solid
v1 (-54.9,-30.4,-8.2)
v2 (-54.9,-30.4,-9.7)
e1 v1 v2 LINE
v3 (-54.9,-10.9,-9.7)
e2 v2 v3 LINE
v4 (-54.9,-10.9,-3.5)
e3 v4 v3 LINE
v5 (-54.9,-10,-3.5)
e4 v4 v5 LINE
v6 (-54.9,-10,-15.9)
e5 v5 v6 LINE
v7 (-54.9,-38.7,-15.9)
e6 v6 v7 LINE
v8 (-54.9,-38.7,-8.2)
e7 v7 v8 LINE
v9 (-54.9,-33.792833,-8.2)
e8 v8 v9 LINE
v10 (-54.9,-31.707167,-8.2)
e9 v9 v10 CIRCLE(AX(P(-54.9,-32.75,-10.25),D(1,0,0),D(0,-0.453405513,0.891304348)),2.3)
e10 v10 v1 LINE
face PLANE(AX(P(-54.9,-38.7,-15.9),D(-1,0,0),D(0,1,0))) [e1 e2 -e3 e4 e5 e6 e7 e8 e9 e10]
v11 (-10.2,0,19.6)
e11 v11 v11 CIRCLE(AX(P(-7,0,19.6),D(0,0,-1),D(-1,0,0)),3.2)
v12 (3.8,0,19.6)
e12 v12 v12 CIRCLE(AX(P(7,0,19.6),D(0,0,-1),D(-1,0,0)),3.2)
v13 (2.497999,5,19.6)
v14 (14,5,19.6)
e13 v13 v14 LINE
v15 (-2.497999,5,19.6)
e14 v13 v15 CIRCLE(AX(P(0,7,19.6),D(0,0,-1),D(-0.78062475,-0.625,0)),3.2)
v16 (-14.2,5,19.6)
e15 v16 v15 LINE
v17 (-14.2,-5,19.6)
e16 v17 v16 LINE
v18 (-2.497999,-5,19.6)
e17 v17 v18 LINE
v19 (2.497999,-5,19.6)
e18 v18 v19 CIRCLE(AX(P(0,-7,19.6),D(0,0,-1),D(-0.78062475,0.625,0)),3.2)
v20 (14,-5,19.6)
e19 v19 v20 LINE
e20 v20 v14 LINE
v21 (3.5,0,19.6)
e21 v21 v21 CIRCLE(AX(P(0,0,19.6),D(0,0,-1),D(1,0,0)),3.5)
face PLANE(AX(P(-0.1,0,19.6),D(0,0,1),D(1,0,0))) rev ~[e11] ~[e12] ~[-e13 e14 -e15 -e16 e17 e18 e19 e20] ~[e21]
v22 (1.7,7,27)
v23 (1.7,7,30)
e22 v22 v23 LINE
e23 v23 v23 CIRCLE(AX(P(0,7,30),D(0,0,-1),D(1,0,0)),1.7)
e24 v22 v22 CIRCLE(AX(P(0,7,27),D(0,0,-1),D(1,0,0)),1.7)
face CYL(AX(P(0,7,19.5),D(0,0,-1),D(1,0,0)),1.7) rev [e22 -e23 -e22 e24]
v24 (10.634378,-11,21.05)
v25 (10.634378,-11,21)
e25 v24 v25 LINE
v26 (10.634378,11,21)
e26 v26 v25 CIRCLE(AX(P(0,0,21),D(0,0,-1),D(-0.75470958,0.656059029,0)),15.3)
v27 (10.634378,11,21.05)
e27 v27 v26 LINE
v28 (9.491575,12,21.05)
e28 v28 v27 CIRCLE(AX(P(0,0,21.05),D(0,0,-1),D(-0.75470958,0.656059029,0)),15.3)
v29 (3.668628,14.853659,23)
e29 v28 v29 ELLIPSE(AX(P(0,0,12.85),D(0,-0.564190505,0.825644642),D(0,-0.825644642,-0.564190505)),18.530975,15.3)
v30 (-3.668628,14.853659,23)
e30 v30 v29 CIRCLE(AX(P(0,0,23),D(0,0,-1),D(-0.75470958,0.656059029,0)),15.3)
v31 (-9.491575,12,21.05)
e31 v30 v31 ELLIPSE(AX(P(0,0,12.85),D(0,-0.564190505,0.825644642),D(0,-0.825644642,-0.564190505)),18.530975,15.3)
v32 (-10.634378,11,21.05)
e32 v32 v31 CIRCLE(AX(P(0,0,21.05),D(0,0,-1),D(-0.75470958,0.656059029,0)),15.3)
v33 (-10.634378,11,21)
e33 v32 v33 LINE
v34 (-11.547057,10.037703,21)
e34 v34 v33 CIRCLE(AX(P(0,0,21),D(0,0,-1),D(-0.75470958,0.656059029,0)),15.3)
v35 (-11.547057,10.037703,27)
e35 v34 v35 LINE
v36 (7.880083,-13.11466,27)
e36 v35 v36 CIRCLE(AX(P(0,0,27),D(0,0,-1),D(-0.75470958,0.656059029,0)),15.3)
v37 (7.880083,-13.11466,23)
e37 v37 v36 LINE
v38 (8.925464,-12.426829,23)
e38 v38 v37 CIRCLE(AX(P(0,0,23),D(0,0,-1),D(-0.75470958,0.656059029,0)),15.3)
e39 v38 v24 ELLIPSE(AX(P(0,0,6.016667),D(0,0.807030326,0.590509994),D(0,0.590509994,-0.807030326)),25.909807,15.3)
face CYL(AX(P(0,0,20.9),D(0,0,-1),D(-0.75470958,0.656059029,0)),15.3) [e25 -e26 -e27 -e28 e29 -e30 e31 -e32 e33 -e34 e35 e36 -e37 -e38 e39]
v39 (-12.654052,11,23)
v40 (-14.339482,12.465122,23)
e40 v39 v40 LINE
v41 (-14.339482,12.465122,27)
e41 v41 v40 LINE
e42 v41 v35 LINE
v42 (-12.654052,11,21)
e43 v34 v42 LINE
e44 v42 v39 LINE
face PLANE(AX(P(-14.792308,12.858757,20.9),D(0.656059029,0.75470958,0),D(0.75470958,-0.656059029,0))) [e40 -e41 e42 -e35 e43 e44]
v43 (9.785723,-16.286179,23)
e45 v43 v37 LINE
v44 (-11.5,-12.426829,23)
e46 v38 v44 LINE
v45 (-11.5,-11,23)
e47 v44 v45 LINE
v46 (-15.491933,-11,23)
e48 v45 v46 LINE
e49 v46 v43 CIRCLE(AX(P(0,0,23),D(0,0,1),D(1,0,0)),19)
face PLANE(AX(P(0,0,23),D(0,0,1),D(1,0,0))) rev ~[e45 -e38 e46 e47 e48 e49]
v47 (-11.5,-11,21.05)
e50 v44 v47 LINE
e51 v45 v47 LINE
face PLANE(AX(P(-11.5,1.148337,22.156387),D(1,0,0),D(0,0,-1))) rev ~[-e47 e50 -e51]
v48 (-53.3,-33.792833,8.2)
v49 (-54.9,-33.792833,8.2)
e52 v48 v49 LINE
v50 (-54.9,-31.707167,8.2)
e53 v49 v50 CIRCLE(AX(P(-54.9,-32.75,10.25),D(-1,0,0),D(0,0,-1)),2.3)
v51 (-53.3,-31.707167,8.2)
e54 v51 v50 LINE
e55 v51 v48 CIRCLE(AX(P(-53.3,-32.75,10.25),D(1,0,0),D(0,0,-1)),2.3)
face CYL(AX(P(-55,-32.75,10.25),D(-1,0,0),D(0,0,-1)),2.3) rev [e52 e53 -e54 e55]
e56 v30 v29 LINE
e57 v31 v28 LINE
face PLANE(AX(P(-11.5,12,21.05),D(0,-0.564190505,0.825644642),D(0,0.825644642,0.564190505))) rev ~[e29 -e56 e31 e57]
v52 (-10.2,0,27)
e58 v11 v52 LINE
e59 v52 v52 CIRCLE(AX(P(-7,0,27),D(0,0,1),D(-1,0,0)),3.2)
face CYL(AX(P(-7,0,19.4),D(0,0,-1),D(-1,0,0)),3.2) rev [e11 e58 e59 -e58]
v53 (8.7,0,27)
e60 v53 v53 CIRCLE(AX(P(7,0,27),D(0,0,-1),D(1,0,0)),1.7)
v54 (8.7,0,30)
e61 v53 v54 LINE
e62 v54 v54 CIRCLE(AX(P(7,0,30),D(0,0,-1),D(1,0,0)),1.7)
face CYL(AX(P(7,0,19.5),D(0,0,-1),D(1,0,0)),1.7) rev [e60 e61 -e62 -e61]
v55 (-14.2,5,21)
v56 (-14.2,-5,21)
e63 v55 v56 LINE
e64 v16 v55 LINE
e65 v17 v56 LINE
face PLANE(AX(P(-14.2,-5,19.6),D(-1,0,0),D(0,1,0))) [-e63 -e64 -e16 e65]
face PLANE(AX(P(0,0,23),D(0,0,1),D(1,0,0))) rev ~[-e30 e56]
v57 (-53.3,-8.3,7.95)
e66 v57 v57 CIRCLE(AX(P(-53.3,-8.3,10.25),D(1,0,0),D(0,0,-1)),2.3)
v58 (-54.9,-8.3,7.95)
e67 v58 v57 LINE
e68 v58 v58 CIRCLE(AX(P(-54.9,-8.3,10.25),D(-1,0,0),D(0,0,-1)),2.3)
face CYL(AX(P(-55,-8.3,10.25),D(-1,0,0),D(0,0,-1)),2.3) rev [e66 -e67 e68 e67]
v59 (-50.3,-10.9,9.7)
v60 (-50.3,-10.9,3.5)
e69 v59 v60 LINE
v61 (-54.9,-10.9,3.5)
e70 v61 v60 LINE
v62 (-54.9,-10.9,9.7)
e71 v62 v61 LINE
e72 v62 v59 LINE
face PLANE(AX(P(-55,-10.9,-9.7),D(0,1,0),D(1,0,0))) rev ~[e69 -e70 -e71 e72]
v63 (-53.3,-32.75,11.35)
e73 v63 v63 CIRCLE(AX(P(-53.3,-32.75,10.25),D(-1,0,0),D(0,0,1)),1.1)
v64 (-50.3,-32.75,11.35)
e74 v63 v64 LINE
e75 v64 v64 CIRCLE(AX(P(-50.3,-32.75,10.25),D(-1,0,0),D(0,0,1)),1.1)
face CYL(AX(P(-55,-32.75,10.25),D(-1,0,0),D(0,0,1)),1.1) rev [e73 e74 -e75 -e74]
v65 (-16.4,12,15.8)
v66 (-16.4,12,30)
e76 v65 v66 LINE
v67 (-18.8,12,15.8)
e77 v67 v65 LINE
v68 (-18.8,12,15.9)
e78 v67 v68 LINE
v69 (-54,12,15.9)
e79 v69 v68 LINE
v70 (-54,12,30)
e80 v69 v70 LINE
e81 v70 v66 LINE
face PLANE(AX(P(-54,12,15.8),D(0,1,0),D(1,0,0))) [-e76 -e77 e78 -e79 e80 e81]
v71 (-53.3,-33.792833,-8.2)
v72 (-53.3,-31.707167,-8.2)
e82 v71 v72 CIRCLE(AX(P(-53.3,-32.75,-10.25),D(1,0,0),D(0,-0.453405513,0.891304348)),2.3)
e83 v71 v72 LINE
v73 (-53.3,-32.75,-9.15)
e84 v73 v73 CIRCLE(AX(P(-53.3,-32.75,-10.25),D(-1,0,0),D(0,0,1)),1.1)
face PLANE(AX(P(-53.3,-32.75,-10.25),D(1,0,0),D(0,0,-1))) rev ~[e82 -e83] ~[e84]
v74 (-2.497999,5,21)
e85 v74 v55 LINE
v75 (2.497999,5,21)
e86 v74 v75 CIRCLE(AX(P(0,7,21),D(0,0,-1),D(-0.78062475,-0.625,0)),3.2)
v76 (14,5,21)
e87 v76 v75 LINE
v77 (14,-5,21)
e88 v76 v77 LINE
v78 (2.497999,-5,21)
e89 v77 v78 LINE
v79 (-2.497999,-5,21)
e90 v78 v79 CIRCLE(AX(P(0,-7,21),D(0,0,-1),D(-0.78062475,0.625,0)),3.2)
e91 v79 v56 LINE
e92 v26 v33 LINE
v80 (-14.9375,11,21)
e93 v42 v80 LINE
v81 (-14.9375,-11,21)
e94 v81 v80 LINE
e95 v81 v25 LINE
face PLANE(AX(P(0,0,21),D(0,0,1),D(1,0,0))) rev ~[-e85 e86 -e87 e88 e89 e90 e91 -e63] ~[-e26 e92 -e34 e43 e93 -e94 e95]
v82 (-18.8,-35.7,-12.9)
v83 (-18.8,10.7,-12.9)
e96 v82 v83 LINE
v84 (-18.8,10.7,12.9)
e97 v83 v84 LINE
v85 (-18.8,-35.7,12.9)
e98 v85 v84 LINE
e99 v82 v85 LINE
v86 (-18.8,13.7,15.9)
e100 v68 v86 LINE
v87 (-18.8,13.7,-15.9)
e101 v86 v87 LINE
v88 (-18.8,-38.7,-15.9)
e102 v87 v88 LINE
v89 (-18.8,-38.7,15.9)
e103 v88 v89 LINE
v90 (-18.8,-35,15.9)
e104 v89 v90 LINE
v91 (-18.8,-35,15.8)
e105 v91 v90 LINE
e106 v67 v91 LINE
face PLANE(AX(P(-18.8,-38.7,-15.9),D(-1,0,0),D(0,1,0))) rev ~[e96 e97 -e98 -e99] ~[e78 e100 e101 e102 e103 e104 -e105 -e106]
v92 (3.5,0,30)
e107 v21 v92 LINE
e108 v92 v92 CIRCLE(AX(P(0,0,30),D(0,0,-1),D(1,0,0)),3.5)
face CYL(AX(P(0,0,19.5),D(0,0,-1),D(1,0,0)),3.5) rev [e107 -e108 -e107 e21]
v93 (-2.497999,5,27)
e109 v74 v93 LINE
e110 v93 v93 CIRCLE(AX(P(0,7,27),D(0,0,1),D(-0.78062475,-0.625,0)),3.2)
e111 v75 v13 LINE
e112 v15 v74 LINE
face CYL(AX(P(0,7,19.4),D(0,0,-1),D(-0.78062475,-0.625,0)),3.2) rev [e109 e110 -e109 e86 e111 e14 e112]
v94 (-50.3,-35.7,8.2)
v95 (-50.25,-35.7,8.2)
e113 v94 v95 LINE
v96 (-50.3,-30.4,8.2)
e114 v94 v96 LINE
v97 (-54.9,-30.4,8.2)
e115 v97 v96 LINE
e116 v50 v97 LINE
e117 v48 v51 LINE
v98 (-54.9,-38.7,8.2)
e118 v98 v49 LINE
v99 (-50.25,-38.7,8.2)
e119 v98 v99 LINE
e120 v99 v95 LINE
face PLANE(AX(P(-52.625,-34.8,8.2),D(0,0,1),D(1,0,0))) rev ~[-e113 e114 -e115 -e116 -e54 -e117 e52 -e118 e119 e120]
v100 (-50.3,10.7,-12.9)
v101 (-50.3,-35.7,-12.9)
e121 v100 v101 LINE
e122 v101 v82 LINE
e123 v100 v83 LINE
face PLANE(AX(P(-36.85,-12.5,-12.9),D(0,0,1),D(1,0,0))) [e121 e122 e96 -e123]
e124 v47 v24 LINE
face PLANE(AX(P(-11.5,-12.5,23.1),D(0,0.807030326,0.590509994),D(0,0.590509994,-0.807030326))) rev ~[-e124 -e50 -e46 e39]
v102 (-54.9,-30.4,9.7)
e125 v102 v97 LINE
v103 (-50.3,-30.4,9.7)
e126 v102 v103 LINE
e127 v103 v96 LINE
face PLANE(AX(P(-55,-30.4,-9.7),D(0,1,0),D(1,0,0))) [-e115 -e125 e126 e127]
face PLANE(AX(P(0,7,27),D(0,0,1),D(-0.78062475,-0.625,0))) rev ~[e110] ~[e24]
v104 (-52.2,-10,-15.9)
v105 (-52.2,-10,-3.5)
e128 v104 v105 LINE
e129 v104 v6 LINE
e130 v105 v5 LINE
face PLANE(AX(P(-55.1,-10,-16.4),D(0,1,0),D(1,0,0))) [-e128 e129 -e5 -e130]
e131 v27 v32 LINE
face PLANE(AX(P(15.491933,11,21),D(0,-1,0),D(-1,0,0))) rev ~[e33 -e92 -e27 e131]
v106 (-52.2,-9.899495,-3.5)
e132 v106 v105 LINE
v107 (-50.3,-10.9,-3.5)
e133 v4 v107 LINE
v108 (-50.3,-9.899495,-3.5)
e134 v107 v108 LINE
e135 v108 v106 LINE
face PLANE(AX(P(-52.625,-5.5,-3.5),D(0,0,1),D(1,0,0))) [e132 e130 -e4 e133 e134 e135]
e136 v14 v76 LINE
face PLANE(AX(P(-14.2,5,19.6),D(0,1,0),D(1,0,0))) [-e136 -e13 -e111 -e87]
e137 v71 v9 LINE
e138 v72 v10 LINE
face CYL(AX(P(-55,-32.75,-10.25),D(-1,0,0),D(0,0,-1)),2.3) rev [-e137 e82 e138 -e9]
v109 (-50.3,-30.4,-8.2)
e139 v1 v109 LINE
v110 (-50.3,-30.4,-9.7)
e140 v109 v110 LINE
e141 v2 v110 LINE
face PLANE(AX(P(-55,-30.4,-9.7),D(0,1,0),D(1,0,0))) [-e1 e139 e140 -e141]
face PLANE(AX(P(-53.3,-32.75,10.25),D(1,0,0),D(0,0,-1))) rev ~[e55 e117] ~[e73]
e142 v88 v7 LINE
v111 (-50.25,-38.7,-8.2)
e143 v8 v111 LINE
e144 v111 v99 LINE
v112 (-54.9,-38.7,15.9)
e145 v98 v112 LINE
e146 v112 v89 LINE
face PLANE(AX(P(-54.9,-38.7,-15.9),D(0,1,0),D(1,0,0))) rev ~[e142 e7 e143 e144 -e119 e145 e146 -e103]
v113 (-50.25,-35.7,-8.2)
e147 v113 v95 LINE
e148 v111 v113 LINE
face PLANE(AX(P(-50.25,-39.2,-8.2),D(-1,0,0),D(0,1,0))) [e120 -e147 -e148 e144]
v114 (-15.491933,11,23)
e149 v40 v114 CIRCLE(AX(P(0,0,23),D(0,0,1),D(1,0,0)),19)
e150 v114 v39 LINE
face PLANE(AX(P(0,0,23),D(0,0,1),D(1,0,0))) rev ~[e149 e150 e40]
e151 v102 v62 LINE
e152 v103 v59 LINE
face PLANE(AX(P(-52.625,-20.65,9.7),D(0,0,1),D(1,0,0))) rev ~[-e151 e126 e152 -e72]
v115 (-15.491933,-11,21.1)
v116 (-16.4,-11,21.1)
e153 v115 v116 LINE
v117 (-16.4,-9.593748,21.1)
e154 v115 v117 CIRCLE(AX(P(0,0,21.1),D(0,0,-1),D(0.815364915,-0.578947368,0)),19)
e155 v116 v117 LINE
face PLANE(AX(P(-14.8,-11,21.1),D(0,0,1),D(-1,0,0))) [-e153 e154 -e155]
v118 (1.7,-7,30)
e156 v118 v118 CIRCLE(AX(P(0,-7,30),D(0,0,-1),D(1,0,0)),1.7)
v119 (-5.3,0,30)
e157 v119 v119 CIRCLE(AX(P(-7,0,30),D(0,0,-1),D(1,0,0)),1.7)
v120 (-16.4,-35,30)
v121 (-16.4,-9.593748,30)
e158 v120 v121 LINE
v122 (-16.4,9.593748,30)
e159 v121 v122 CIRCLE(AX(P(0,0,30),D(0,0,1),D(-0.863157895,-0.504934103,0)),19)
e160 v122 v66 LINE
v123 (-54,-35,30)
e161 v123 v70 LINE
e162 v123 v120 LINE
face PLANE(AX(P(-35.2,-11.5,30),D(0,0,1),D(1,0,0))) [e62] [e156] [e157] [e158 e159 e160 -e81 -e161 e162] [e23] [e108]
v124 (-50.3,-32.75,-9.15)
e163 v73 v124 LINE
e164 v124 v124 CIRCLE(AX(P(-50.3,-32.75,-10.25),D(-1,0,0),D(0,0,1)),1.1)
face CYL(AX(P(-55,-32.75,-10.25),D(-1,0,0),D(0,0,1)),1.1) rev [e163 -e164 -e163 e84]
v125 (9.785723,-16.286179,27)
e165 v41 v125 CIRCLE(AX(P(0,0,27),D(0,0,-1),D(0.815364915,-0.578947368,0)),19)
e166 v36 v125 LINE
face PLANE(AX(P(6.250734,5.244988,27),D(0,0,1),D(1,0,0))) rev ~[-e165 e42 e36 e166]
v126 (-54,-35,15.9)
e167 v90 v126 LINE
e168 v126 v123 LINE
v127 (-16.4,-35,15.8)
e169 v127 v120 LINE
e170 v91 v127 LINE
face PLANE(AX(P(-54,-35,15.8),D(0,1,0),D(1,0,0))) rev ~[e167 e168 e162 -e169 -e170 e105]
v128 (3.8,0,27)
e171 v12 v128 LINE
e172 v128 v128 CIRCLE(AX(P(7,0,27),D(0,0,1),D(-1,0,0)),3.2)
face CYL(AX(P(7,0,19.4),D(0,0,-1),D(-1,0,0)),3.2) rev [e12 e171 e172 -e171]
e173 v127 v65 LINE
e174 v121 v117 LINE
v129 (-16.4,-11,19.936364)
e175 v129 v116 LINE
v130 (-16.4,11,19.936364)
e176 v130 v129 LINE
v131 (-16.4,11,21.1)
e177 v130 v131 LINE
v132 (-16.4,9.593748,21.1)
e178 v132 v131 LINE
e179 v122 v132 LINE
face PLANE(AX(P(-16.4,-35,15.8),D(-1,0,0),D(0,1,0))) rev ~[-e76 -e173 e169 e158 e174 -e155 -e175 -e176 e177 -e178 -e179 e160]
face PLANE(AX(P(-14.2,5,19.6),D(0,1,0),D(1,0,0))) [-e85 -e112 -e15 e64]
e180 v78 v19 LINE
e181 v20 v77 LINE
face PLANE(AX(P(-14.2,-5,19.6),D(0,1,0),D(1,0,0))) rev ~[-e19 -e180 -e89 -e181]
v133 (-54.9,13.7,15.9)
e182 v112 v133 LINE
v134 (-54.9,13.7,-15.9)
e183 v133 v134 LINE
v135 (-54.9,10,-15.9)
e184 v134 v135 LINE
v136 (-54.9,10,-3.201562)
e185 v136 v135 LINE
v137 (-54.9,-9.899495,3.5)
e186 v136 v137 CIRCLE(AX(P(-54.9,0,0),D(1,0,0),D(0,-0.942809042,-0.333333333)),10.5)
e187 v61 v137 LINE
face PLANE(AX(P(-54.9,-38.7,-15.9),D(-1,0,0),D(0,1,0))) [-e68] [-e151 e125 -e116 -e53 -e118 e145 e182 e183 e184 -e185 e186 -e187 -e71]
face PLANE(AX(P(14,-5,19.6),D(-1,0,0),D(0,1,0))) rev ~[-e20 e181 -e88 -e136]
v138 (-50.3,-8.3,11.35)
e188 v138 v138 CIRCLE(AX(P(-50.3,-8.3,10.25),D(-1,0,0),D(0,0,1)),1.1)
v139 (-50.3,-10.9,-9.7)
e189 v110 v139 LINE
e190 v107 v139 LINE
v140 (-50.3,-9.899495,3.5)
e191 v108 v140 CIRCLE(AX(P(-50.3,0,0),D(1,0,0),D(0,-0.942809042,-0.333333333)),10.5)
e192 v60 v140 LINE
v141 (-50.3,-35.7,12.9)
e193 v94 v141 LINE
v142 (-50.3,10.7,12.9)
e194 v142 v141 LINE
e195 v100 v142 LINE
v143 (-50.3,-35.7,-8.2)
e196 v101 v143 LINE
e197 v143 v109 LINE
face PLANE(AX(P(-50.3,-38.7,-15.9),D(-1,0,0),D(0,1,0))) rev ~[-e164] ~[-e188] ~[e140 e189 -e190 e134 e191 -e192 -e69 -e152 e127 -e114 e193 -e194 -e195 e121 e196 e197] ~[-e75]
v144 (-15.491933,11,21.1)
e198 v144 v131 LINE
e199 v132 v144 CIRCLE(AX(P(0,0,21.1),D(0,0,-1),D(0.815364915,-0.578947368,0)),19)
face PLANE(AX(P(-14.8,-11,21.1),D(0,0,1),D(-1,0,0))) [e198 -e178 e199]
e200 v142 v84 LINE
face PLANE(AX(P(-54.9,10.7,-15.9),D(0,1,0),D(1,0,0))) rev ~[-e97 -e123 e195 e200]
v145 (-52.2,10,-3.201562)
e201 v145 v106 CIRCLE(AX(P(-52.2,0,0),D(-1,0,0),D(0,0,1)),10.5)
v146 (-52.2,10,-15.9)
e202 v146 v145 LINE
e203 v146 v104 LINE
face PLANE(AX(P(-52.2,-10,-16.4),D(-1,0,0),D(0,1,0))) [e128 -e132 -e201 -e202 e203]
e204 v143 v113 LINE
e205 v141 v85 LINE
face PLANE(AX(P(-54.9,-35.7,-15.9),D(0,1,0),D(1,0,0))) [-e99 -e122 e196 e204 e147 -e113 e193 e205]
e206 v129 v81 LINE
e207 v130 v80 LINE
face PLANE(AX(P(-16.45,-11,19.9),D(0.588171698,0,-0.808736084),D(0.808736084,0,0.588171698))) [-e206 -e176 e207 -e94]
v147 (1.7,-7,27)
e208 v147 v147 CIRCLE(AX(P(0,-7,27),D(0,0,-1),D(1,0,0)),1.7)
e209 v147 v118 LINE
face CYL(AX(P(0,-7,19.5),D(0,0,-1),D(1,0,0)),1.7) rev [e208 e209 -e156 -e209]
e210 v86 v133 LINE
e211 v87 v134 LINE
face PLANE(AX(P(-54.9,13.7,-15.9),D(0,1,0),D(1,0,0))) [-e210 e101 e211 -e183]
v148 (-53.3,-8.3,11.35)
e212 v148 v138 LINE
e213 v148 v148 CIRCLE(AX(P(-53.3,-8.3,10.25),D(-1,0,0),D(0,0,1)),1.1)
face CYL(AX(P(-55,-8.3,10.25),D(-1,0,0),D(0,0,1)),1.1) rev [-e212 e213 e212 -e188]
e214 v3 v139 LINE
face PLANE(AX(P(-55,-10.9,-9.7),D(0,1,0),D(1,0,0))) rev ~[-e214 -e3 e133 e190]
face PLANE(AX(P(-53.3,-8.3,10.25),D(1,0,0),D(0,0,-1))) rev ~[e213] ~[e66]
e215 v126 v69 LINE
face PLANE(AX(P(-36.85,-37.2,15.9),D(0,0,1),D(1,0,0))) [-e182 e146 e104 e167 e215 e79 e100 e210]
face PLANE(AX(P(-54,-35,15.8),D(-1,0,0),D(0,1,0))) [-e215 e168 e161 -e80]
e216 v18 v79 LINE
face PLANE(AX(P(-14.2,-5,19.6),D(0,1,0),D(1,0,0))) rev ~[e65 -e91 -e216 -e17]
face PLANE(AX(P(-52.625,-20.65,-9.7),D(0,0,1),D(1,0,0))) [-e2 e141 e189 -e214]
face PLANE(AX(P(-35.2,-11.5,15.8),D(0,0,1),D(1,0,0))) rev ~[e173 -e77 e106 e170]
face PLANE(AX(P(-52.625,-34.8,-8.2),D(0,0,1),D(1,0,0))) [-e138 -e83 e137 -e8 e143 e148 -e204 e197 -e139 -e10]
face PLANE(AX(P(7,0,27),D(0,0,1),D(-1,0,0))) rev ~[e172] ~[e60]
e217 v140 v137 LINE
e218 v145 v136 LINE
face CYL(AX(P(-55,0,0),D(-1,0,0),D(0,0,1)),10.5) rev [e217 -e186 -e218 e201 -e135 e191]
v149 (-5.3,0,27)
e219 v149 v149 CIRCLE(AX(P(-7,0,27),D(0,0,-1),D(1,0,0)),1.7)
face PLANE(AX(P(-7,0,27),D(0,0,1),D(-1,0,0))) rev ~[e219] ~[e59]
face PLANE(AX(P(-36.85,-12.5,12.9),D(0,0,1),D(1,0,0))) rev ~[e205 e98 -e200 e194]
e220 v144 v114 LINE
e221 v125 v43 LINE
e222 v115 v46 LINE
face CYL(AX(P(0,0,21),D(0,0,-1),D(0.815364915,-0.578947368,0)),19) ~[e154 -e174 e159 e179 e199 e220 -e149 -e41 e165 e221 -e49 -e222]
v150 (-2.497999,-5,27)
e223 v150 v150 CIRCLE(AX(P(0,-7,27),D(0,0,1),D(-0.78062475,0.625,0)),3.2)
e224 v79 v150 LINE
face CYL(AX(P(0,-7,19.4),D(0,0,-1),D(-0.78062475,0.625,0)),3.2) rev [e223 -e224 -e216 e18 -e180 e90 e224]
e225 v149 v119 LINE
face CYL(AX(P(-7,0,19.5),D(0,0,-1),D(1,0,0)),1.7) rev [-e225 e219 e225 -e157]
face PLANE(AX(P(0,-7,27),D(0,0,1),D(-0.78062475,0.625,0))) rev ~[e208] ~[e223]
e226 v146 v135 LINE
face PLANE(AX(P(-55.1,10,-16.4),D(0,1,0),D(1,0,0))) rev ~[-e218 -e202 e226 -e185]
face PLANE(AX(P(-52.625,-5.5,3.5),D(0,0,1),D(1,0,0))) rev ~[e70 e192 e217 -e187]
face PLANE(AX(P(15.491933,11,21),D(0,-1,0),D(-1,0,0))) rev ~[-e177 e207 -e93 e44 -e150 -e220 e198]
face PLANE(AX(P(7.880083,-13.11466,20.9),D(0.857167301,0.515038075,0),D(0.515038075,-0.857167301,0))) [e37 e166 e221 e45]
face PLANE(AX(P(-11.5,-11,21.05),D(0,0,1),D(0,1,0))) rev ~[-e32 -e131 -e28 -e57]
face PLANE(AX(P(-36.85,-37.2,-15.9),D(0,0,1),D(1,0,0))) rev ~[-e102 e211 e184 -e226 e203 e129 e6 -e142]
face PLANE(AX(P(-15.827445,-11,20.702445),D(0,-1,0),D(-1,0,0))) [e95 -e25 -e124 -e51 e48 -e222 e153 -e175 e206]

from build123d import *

# Parameters (mm, degrees)
S_CYL1_R        = 19
BOSS_1_DEPTH    = 7
BOSS_2_DEPTH    = 2.1
S_BOX3_W        = 28.2
S_BOX3_H        = 10
BOSS_3_DEPTH    = 1.5
S_BOX4_W        = 37.6
S_BOX4_H        = 47
BOSS_4_DEPTH    = 14.2
BOSS_5_DEPTH    = 23
BOSS_6_DEPTH    = 22
S_BOX7_W        = 36.1
S_BOX7_H        = 3
BOSS_7_DEPTH    = 31.8
S_BOX8_W        = 36.1
S_BOX8_H        = 3
BOSS_8_DEPTH    = 31.8
S_BOX9_W        = 36.1
S_BOX9_H        = 52.4
BOSS_9_DEPTH    = 3
S_BOX10_W       = 36.1
S_BOX10_H       = 52.4
BOSS_10_DEPTH   = 3
S_BOX11_W       = 4.6
S_BOX11_H       = 52.4
BOSS_11_DEPTH   = 31.8
S_HOLE12_R      = 10.5
HOLE_12_DEPTH   = 4.8
S_CUT13_W       = 4.75
S_CUT13_H       = 19.5
POCKET_13_DEPTH = 19.4
S_CUT14_W       = 4.75
S_CUT14_H       = 8.8
POCKET_14_DEPTH = 16.4
S_CUT15_W       = 4.75
S_CUT15_H       = 11
POCKET_15_DEPTH = 7
S_CUT16_W       = 2.9
S_CUT16_H       = 20
POCKET_16_DEPTH = 16.4
S_HOLE17_R      = 1.1
HOLE_17_DEPTH   = 4.8
S_HOLE18_R      = 2.3
HOLE_18_DEPTH   = 1.7
S_HOLE19_R      = 1.1
HOLE_19_DEPTH   = 4.8
S_HOLE20_R      = 2.3
HOLE_20_DEPTH   = 1.7
S_HOLE21_R      = 1.1
HOLE_21_DEPTH   = 4.8
S_HOLE22_R      = 2.3
HOLE_22_DEPTH   = 1.7
CUT_23_DEPTH    = 6.1
S_HOLE24_R      = 3.5
HOLE_24_DEPTH   = 10.6
S_HOLE25_R      = 1.7
HOLE_25_DEPTH   = 10.6
S_HOLE26_R      = 1.7
HOLE_26_DEPTH   = 10.6
S_HOLE27_R      = 1.7
HOLE_27_DEPTH   = 10.6
S_HOLE28_R      = 1.7
HOLE_28_DEPTH   = 10.6
S_HOLE29_R      = 3.2
HOLE_29_DEPTH   = 7.6
S_HOLE30_R      = 3.2
HOLE_30_DEPTH   = 7.6
S_HOLE31_R      = 3.2
HOLE_31_DEPTH   = 7.6
S_HOLE32_R      = 3.2
HOLE_32_DEPTH   = 7.6


with BuildPart() as part:
    # S_cyl1 → Boss_1 (new body)
    with BuildSketch(Plane.XY.offset(23)):
        Circle(S_CYL1_R)
    extrude(amount=BOSS_1_DEPTH)

    # S_prism2 → Boss_2 (add)
    with BuildSketch(Plane.XY.offset(21)):
        with BuildLine():
            Line((-15.491933385, -11), (15.491933385, -11))
            ThreePointArc((15.491933385, -11), (19, 0), (15.491933385, 11))
            Line((15.491933385, 11), (-15.491933385, 11))
            ThreePointArc((-15.491933385, 11), (-19, 0), (-15.491933385, -11))
        make_face()
    extrude(amount=BOSS_2_DEPTH)

    # S_box3 → Boss_3 (add)
    with BuildSketch(Plane.XY.offset(19.6)):
        with Locations((-0.1, 0)):
            Rectangle(S_BOX3_W, S_BOX3_H)
    extrude(amount=BOSS_3_DEPTH)

    # S_box4 → Boss_4 (add)
    with BuildSketch(Plane.XY.offset(15.8)):
        with Locations((-35.2, -11.5)):
            Rectangle(S_BOX4_W, S_BOX4_H)
    extrude(amount=BOSS_4_DEPTH)

    # S_prism5 → Boss_5 (add)
    with BuildSketch(Plane(origin=(-11.5, 0, 0), x_dir=(0, 0, -1), z_dir=(1, 0, 0))):
        Polygon((-21.05, -11), (-21.05, 12), (-23.1, 15), (-23.1, -12.5), align=None)
    extrude(amount=BOSS_5_DEPTH)

    # S_prism6 → Boss_6 (add)
    with BuildSketch(Plane(origin=(0, -11, 0), x_dir=(1, 0, 0), z_dir=(0, 1, 0))):
        Polygon((-16.45, -21.1), (-16.45, -19.9), (-14.8, -21.1), align=None)
    extrude(amount=BOSS_6_DEPTH)

    # S_box8 → Boss_8 (add)
    with BuildSketch(Plane.XY.offset(-15.9)):
        with Locations((-36.85, 12.2)):
            Rectangle(S_BOX8_W, S_BOX8_H)
    extrude(amount=BOSS_8_DEPTH)



with BuildPart() as body_2:
    # S_box7 → Boss_7 (new body)
    with BuildSketch(Plane.XY.offset(-15.9)):
        with Locations((-36.85, -37.2)):
            Rectangle(S_BOX7_W, S_BOX7_H)
    extrude(amount=BOSS_7_DEPTH)


with BuildPart() as part_1:
    add(part.part)

    add(body_2.part)  # Boss_9 merges body 2
    # S_box9 → Boss_9 (add)
    with BuildSketch(Plane.XY.offset(-15.9)):
        with Locations((-36.85, -12.5)):
            Rectangle(S_BOX9_W, S_BOX9_H)
    extrude(amount=BOSS_9_DEPTH)

    # S_box10 → Boss_10 (add)
    with BuildSketch(Plane.XY.offset(12.9)):
        with Locations((-36.85, -12.5)):
            Rectangle(S_BOX10_W, S_BOX10_H)
    extrude(amount=BOSS_10_DEPTH)

    # S_box11 → Boss_11 (add)
    with BuildSketch(Plane.XY.offset(-15.9)):
        with Locations((-52.6, -12.5)):
            Rectangle(S_BOX11_W, S_BOX11_H)
    extrude(amount=BOSS_11_DEPTH)

    # S_hole12 → Hole_12 (cut)
    with BuildSketch(Plane(origin=(-55, 0, 0), x_dir=(0, 0, -1), z_dir=(1, 0, 0))):
        with Locations(Location((0, 0, 0), (0, 0, 180))):
            Circle(S_HOLE12_R)
    extrude(amount=HOLE_12_DEPTH, mode=Mode.SUBTRACT)

    # S_cut13 → Pocket_13 (cut)
    with BuildSketch(Plane.XY.offset(-9.7)):
        with Locations((-52.625, -20.65)):
            Rectangle(S_CUT13_W, S_CUT13_H)
    extrude(amount=POCKET_13_DEPTH, mode=Mode.SUBTRACT)

    # S_cut14 → Pocket_14 (cut)
    with BuildSketch(Plane.XY.offset(-8.2)):
        with Locations((-52.625, -34.8)):
            Rectangle(S_CUT14_W, S_CUT14_H)
    extrude(amount=POCKET_14_DEPTH, mode=Mode.SUBTRACT)

    # S_cut15 → Pocket_15 (cut)
    with BuildSketch(Plane.XY.offset(-3.5)):
        with Locations((-52.625, -5.5)):
            Rectangle(S_CUT15_W, S_CUT15_H)
    extrude(amount=POCKET_15_DEPTH, mode=Mode.SUBTRACT)

    # S_cut16 → Pocket_16 (cut)
    with BuildSketch(Plane.XY.offset(-16.4)):
        with Locations((-53.65, 0)):
            Rectangle(S_CUT16_W, S_CUT16_H)
    extrude(amount=POCKET_16_DEPTH, mode=Mode.SUBTRACT)

    # S_hole17 → Hole_17 (cut)
    with BuildSketch(Plane(origin=(-55, 0, 0), x_dir=(0, 0, -1), z_dir=(1, 0, 0))):
        with Locations(Location((-10.25, -8.3, 0), (0, 0, 180))):
            Circle(S_HOLE17_R)
    extrude(amount=HOLE_17_DEPTH, mode=Mode.SUBTRACT)

    # S_hole18 → Hole_18 (cut)
    with BuildSketch(Plane(origin=(-55, 0, 0), x_dir=(0, 0, -1), z_dir=(1, 0, 0))):
        with Locations((-10.25, -8.3)):
            Circle(S_HOLE18_R)
    extrude(amount=HOLE_18_DEPTH, mode=Mode.SUBTRACT)

    # S_hole19 → Hole_19 (cut)
    with BuildSketch(Plane(origin=(-55, 0, 0), x_dir=(0, 0, -1), z_dir=(1, 0, 0))):
        with Locations(Location((10.25, -32.75, 0), (0, 0, 180))):
            Circle(S_HOLE19_R)
    extrude(amount=HOLE_19_DEPTH, mode=Mode.SUBTRACT)

    # S_hole20 → Hole_20 (cut)
    with BuildSketch(Plane(origin=(-55, 0, 0), x_dir=(0, 0, -1), z_dir=(1, 0, 0))):
        with Locations((10.25, -32.75)):
            Circle(S_HOLE20_R)
    extrude(amount=HOLE_20_DEPTH, mode=Mode.SUBTRACT)

    # S_hole21 → Hole_21 (cut)
    with BuildSketch(Plane(origin=(-55, 0, 0), x_dir=(0, 0, -1), z_dir=(1, 0, 0))):
        with Locations(Location((-10.25, -32.75, 0), (0, 0, 180))):
            Circle(S_HOLE21_R)
    extrude(amount=HOLE_21_DEPTH, mode=Mode.SUBTRACT)

    # S_hole22 → Hole_22 (cut)
    with BuildSketch(Plane(origin=(-55, 0, 0), x_dir=(0, 0, -1), z_dir=(1, 0, 0))):
        with Locations((-10.25, -32.75)):
            Circle(S_HOLE22_R)
    extrude(amount=HOLE_22_DEPTH, mode=Mode.SUBTRACT)

    # S_pcut23 → Cut_23 (cut)
    with BuildSketch(Plane.XY.offset(20.9)):
        with BuildLine():
            Line((-14.792307772, 12.858756968), (-11.547056577, 10.037703144))
            ThreePointArc((-11.547056577, 10.037703144), (11.72047998, 9.834650428), (7.880082546, -13.114659701))
            Line((7.880082546, -13.114659701), (10.094746268, -16.800479094))
            ThreePointArc((10.094746268, -16.800479094), (15.014471085, 12.59863715), (-14.792307772, 12.858756968))
        make_face()
    extrude(amount=CUT_23_DEPTH, mode=Mode.SUBTRACT)

    # S_hole24 → Hole_24 (cut)
    with BuildSketch(Plane.XY.offset(19.5)):
        Circle(S_HOLE24_R)
    extrude(amount=HOLE_24_DEPTH, mode=Mode.SUBTRACT)

    # S_hole25 → Hole_25 (cut)
    with BuildSketch(Plane.XY.offset(19.5)):
        with Locations((7, 0)):
            Circle(S_HOLE25_R)
    extrude(amount=HOLE_25_DEPTH, mode=Mode.SUBTRACT)

    # S_hole26 → Hole_26 (cut)
    with BuildSketch(Plane.XY.offset(19.5)):
        with Locations((0, 7)):
            Circle(S_HOLE26_R)
    extrude(amount=HOLE_26_DEPTH, mode=Mode.SUBTRACT)

    # S_hole27 → Hole_27 (cut)
    with BuildSketch(Plane.XY.offset(19.5)):
        with Locations((-7, 0)):
            Circle(S_HOLE27_R)
    extrude(amount=HOLE_27_DEPTH, mode=Mode.SUBTRACT)

    # S_hole28 → Hole_28 (cut)
    with BuildSketch(Plane.XY.offset(19.5)):
        with Locations((0, -7)):
            Circle(S_HOLE28_R)
    extrude(amount=HOLE_28_DEPTH, mode=Mode.SUBTRACT)

    # S_hole29 → Hole_29 (cut)
    with BuildSketch(Plane.XY.offset(19.4)):
        with Locations(Location((7, 0, 0), (0, 0, 180))):
            Circle(S_HOLE29_R)
    extrude(amount=HOLE_29_DEPTH, mode=Mode.SUBTRACT)

    # S_hole30 → Hole_30 (cut)
    with BuildSketch(Plane.XY.offset(19.4)):
        with Locations(Location((0, 7, 0), (0, 0, 218.682187453))):
            Circle(S_HOLE30_R)
    extrude(amount=HOLE_30_DEPTH, mode=Mode.SUBTRACT)

    # S_hole31 → Hole_31 (cut)
    with BuildSketch(Plane.XY.offset(19.4)):
        with Locations(Location((-7, 0, 0), (0, 0, 180))):
            Circle(S_HOLE31_R)
    extrude(amount=HOLE_31_DEPTH, mode=Mode.SUBTRACT)

    # S_hole32 → Hole_32 (cut)
    with BuildSketch(Plane.XY.offset(19.4)):
        with Locations(Location((0, -7, 0), (0, 0, 141.317812547))):
            Circle(S_HOLE32_R)
    extrude(amount=HOLE_32_DEPTH, mode=Mode.SUBTRACT)


solid = part_1.part
